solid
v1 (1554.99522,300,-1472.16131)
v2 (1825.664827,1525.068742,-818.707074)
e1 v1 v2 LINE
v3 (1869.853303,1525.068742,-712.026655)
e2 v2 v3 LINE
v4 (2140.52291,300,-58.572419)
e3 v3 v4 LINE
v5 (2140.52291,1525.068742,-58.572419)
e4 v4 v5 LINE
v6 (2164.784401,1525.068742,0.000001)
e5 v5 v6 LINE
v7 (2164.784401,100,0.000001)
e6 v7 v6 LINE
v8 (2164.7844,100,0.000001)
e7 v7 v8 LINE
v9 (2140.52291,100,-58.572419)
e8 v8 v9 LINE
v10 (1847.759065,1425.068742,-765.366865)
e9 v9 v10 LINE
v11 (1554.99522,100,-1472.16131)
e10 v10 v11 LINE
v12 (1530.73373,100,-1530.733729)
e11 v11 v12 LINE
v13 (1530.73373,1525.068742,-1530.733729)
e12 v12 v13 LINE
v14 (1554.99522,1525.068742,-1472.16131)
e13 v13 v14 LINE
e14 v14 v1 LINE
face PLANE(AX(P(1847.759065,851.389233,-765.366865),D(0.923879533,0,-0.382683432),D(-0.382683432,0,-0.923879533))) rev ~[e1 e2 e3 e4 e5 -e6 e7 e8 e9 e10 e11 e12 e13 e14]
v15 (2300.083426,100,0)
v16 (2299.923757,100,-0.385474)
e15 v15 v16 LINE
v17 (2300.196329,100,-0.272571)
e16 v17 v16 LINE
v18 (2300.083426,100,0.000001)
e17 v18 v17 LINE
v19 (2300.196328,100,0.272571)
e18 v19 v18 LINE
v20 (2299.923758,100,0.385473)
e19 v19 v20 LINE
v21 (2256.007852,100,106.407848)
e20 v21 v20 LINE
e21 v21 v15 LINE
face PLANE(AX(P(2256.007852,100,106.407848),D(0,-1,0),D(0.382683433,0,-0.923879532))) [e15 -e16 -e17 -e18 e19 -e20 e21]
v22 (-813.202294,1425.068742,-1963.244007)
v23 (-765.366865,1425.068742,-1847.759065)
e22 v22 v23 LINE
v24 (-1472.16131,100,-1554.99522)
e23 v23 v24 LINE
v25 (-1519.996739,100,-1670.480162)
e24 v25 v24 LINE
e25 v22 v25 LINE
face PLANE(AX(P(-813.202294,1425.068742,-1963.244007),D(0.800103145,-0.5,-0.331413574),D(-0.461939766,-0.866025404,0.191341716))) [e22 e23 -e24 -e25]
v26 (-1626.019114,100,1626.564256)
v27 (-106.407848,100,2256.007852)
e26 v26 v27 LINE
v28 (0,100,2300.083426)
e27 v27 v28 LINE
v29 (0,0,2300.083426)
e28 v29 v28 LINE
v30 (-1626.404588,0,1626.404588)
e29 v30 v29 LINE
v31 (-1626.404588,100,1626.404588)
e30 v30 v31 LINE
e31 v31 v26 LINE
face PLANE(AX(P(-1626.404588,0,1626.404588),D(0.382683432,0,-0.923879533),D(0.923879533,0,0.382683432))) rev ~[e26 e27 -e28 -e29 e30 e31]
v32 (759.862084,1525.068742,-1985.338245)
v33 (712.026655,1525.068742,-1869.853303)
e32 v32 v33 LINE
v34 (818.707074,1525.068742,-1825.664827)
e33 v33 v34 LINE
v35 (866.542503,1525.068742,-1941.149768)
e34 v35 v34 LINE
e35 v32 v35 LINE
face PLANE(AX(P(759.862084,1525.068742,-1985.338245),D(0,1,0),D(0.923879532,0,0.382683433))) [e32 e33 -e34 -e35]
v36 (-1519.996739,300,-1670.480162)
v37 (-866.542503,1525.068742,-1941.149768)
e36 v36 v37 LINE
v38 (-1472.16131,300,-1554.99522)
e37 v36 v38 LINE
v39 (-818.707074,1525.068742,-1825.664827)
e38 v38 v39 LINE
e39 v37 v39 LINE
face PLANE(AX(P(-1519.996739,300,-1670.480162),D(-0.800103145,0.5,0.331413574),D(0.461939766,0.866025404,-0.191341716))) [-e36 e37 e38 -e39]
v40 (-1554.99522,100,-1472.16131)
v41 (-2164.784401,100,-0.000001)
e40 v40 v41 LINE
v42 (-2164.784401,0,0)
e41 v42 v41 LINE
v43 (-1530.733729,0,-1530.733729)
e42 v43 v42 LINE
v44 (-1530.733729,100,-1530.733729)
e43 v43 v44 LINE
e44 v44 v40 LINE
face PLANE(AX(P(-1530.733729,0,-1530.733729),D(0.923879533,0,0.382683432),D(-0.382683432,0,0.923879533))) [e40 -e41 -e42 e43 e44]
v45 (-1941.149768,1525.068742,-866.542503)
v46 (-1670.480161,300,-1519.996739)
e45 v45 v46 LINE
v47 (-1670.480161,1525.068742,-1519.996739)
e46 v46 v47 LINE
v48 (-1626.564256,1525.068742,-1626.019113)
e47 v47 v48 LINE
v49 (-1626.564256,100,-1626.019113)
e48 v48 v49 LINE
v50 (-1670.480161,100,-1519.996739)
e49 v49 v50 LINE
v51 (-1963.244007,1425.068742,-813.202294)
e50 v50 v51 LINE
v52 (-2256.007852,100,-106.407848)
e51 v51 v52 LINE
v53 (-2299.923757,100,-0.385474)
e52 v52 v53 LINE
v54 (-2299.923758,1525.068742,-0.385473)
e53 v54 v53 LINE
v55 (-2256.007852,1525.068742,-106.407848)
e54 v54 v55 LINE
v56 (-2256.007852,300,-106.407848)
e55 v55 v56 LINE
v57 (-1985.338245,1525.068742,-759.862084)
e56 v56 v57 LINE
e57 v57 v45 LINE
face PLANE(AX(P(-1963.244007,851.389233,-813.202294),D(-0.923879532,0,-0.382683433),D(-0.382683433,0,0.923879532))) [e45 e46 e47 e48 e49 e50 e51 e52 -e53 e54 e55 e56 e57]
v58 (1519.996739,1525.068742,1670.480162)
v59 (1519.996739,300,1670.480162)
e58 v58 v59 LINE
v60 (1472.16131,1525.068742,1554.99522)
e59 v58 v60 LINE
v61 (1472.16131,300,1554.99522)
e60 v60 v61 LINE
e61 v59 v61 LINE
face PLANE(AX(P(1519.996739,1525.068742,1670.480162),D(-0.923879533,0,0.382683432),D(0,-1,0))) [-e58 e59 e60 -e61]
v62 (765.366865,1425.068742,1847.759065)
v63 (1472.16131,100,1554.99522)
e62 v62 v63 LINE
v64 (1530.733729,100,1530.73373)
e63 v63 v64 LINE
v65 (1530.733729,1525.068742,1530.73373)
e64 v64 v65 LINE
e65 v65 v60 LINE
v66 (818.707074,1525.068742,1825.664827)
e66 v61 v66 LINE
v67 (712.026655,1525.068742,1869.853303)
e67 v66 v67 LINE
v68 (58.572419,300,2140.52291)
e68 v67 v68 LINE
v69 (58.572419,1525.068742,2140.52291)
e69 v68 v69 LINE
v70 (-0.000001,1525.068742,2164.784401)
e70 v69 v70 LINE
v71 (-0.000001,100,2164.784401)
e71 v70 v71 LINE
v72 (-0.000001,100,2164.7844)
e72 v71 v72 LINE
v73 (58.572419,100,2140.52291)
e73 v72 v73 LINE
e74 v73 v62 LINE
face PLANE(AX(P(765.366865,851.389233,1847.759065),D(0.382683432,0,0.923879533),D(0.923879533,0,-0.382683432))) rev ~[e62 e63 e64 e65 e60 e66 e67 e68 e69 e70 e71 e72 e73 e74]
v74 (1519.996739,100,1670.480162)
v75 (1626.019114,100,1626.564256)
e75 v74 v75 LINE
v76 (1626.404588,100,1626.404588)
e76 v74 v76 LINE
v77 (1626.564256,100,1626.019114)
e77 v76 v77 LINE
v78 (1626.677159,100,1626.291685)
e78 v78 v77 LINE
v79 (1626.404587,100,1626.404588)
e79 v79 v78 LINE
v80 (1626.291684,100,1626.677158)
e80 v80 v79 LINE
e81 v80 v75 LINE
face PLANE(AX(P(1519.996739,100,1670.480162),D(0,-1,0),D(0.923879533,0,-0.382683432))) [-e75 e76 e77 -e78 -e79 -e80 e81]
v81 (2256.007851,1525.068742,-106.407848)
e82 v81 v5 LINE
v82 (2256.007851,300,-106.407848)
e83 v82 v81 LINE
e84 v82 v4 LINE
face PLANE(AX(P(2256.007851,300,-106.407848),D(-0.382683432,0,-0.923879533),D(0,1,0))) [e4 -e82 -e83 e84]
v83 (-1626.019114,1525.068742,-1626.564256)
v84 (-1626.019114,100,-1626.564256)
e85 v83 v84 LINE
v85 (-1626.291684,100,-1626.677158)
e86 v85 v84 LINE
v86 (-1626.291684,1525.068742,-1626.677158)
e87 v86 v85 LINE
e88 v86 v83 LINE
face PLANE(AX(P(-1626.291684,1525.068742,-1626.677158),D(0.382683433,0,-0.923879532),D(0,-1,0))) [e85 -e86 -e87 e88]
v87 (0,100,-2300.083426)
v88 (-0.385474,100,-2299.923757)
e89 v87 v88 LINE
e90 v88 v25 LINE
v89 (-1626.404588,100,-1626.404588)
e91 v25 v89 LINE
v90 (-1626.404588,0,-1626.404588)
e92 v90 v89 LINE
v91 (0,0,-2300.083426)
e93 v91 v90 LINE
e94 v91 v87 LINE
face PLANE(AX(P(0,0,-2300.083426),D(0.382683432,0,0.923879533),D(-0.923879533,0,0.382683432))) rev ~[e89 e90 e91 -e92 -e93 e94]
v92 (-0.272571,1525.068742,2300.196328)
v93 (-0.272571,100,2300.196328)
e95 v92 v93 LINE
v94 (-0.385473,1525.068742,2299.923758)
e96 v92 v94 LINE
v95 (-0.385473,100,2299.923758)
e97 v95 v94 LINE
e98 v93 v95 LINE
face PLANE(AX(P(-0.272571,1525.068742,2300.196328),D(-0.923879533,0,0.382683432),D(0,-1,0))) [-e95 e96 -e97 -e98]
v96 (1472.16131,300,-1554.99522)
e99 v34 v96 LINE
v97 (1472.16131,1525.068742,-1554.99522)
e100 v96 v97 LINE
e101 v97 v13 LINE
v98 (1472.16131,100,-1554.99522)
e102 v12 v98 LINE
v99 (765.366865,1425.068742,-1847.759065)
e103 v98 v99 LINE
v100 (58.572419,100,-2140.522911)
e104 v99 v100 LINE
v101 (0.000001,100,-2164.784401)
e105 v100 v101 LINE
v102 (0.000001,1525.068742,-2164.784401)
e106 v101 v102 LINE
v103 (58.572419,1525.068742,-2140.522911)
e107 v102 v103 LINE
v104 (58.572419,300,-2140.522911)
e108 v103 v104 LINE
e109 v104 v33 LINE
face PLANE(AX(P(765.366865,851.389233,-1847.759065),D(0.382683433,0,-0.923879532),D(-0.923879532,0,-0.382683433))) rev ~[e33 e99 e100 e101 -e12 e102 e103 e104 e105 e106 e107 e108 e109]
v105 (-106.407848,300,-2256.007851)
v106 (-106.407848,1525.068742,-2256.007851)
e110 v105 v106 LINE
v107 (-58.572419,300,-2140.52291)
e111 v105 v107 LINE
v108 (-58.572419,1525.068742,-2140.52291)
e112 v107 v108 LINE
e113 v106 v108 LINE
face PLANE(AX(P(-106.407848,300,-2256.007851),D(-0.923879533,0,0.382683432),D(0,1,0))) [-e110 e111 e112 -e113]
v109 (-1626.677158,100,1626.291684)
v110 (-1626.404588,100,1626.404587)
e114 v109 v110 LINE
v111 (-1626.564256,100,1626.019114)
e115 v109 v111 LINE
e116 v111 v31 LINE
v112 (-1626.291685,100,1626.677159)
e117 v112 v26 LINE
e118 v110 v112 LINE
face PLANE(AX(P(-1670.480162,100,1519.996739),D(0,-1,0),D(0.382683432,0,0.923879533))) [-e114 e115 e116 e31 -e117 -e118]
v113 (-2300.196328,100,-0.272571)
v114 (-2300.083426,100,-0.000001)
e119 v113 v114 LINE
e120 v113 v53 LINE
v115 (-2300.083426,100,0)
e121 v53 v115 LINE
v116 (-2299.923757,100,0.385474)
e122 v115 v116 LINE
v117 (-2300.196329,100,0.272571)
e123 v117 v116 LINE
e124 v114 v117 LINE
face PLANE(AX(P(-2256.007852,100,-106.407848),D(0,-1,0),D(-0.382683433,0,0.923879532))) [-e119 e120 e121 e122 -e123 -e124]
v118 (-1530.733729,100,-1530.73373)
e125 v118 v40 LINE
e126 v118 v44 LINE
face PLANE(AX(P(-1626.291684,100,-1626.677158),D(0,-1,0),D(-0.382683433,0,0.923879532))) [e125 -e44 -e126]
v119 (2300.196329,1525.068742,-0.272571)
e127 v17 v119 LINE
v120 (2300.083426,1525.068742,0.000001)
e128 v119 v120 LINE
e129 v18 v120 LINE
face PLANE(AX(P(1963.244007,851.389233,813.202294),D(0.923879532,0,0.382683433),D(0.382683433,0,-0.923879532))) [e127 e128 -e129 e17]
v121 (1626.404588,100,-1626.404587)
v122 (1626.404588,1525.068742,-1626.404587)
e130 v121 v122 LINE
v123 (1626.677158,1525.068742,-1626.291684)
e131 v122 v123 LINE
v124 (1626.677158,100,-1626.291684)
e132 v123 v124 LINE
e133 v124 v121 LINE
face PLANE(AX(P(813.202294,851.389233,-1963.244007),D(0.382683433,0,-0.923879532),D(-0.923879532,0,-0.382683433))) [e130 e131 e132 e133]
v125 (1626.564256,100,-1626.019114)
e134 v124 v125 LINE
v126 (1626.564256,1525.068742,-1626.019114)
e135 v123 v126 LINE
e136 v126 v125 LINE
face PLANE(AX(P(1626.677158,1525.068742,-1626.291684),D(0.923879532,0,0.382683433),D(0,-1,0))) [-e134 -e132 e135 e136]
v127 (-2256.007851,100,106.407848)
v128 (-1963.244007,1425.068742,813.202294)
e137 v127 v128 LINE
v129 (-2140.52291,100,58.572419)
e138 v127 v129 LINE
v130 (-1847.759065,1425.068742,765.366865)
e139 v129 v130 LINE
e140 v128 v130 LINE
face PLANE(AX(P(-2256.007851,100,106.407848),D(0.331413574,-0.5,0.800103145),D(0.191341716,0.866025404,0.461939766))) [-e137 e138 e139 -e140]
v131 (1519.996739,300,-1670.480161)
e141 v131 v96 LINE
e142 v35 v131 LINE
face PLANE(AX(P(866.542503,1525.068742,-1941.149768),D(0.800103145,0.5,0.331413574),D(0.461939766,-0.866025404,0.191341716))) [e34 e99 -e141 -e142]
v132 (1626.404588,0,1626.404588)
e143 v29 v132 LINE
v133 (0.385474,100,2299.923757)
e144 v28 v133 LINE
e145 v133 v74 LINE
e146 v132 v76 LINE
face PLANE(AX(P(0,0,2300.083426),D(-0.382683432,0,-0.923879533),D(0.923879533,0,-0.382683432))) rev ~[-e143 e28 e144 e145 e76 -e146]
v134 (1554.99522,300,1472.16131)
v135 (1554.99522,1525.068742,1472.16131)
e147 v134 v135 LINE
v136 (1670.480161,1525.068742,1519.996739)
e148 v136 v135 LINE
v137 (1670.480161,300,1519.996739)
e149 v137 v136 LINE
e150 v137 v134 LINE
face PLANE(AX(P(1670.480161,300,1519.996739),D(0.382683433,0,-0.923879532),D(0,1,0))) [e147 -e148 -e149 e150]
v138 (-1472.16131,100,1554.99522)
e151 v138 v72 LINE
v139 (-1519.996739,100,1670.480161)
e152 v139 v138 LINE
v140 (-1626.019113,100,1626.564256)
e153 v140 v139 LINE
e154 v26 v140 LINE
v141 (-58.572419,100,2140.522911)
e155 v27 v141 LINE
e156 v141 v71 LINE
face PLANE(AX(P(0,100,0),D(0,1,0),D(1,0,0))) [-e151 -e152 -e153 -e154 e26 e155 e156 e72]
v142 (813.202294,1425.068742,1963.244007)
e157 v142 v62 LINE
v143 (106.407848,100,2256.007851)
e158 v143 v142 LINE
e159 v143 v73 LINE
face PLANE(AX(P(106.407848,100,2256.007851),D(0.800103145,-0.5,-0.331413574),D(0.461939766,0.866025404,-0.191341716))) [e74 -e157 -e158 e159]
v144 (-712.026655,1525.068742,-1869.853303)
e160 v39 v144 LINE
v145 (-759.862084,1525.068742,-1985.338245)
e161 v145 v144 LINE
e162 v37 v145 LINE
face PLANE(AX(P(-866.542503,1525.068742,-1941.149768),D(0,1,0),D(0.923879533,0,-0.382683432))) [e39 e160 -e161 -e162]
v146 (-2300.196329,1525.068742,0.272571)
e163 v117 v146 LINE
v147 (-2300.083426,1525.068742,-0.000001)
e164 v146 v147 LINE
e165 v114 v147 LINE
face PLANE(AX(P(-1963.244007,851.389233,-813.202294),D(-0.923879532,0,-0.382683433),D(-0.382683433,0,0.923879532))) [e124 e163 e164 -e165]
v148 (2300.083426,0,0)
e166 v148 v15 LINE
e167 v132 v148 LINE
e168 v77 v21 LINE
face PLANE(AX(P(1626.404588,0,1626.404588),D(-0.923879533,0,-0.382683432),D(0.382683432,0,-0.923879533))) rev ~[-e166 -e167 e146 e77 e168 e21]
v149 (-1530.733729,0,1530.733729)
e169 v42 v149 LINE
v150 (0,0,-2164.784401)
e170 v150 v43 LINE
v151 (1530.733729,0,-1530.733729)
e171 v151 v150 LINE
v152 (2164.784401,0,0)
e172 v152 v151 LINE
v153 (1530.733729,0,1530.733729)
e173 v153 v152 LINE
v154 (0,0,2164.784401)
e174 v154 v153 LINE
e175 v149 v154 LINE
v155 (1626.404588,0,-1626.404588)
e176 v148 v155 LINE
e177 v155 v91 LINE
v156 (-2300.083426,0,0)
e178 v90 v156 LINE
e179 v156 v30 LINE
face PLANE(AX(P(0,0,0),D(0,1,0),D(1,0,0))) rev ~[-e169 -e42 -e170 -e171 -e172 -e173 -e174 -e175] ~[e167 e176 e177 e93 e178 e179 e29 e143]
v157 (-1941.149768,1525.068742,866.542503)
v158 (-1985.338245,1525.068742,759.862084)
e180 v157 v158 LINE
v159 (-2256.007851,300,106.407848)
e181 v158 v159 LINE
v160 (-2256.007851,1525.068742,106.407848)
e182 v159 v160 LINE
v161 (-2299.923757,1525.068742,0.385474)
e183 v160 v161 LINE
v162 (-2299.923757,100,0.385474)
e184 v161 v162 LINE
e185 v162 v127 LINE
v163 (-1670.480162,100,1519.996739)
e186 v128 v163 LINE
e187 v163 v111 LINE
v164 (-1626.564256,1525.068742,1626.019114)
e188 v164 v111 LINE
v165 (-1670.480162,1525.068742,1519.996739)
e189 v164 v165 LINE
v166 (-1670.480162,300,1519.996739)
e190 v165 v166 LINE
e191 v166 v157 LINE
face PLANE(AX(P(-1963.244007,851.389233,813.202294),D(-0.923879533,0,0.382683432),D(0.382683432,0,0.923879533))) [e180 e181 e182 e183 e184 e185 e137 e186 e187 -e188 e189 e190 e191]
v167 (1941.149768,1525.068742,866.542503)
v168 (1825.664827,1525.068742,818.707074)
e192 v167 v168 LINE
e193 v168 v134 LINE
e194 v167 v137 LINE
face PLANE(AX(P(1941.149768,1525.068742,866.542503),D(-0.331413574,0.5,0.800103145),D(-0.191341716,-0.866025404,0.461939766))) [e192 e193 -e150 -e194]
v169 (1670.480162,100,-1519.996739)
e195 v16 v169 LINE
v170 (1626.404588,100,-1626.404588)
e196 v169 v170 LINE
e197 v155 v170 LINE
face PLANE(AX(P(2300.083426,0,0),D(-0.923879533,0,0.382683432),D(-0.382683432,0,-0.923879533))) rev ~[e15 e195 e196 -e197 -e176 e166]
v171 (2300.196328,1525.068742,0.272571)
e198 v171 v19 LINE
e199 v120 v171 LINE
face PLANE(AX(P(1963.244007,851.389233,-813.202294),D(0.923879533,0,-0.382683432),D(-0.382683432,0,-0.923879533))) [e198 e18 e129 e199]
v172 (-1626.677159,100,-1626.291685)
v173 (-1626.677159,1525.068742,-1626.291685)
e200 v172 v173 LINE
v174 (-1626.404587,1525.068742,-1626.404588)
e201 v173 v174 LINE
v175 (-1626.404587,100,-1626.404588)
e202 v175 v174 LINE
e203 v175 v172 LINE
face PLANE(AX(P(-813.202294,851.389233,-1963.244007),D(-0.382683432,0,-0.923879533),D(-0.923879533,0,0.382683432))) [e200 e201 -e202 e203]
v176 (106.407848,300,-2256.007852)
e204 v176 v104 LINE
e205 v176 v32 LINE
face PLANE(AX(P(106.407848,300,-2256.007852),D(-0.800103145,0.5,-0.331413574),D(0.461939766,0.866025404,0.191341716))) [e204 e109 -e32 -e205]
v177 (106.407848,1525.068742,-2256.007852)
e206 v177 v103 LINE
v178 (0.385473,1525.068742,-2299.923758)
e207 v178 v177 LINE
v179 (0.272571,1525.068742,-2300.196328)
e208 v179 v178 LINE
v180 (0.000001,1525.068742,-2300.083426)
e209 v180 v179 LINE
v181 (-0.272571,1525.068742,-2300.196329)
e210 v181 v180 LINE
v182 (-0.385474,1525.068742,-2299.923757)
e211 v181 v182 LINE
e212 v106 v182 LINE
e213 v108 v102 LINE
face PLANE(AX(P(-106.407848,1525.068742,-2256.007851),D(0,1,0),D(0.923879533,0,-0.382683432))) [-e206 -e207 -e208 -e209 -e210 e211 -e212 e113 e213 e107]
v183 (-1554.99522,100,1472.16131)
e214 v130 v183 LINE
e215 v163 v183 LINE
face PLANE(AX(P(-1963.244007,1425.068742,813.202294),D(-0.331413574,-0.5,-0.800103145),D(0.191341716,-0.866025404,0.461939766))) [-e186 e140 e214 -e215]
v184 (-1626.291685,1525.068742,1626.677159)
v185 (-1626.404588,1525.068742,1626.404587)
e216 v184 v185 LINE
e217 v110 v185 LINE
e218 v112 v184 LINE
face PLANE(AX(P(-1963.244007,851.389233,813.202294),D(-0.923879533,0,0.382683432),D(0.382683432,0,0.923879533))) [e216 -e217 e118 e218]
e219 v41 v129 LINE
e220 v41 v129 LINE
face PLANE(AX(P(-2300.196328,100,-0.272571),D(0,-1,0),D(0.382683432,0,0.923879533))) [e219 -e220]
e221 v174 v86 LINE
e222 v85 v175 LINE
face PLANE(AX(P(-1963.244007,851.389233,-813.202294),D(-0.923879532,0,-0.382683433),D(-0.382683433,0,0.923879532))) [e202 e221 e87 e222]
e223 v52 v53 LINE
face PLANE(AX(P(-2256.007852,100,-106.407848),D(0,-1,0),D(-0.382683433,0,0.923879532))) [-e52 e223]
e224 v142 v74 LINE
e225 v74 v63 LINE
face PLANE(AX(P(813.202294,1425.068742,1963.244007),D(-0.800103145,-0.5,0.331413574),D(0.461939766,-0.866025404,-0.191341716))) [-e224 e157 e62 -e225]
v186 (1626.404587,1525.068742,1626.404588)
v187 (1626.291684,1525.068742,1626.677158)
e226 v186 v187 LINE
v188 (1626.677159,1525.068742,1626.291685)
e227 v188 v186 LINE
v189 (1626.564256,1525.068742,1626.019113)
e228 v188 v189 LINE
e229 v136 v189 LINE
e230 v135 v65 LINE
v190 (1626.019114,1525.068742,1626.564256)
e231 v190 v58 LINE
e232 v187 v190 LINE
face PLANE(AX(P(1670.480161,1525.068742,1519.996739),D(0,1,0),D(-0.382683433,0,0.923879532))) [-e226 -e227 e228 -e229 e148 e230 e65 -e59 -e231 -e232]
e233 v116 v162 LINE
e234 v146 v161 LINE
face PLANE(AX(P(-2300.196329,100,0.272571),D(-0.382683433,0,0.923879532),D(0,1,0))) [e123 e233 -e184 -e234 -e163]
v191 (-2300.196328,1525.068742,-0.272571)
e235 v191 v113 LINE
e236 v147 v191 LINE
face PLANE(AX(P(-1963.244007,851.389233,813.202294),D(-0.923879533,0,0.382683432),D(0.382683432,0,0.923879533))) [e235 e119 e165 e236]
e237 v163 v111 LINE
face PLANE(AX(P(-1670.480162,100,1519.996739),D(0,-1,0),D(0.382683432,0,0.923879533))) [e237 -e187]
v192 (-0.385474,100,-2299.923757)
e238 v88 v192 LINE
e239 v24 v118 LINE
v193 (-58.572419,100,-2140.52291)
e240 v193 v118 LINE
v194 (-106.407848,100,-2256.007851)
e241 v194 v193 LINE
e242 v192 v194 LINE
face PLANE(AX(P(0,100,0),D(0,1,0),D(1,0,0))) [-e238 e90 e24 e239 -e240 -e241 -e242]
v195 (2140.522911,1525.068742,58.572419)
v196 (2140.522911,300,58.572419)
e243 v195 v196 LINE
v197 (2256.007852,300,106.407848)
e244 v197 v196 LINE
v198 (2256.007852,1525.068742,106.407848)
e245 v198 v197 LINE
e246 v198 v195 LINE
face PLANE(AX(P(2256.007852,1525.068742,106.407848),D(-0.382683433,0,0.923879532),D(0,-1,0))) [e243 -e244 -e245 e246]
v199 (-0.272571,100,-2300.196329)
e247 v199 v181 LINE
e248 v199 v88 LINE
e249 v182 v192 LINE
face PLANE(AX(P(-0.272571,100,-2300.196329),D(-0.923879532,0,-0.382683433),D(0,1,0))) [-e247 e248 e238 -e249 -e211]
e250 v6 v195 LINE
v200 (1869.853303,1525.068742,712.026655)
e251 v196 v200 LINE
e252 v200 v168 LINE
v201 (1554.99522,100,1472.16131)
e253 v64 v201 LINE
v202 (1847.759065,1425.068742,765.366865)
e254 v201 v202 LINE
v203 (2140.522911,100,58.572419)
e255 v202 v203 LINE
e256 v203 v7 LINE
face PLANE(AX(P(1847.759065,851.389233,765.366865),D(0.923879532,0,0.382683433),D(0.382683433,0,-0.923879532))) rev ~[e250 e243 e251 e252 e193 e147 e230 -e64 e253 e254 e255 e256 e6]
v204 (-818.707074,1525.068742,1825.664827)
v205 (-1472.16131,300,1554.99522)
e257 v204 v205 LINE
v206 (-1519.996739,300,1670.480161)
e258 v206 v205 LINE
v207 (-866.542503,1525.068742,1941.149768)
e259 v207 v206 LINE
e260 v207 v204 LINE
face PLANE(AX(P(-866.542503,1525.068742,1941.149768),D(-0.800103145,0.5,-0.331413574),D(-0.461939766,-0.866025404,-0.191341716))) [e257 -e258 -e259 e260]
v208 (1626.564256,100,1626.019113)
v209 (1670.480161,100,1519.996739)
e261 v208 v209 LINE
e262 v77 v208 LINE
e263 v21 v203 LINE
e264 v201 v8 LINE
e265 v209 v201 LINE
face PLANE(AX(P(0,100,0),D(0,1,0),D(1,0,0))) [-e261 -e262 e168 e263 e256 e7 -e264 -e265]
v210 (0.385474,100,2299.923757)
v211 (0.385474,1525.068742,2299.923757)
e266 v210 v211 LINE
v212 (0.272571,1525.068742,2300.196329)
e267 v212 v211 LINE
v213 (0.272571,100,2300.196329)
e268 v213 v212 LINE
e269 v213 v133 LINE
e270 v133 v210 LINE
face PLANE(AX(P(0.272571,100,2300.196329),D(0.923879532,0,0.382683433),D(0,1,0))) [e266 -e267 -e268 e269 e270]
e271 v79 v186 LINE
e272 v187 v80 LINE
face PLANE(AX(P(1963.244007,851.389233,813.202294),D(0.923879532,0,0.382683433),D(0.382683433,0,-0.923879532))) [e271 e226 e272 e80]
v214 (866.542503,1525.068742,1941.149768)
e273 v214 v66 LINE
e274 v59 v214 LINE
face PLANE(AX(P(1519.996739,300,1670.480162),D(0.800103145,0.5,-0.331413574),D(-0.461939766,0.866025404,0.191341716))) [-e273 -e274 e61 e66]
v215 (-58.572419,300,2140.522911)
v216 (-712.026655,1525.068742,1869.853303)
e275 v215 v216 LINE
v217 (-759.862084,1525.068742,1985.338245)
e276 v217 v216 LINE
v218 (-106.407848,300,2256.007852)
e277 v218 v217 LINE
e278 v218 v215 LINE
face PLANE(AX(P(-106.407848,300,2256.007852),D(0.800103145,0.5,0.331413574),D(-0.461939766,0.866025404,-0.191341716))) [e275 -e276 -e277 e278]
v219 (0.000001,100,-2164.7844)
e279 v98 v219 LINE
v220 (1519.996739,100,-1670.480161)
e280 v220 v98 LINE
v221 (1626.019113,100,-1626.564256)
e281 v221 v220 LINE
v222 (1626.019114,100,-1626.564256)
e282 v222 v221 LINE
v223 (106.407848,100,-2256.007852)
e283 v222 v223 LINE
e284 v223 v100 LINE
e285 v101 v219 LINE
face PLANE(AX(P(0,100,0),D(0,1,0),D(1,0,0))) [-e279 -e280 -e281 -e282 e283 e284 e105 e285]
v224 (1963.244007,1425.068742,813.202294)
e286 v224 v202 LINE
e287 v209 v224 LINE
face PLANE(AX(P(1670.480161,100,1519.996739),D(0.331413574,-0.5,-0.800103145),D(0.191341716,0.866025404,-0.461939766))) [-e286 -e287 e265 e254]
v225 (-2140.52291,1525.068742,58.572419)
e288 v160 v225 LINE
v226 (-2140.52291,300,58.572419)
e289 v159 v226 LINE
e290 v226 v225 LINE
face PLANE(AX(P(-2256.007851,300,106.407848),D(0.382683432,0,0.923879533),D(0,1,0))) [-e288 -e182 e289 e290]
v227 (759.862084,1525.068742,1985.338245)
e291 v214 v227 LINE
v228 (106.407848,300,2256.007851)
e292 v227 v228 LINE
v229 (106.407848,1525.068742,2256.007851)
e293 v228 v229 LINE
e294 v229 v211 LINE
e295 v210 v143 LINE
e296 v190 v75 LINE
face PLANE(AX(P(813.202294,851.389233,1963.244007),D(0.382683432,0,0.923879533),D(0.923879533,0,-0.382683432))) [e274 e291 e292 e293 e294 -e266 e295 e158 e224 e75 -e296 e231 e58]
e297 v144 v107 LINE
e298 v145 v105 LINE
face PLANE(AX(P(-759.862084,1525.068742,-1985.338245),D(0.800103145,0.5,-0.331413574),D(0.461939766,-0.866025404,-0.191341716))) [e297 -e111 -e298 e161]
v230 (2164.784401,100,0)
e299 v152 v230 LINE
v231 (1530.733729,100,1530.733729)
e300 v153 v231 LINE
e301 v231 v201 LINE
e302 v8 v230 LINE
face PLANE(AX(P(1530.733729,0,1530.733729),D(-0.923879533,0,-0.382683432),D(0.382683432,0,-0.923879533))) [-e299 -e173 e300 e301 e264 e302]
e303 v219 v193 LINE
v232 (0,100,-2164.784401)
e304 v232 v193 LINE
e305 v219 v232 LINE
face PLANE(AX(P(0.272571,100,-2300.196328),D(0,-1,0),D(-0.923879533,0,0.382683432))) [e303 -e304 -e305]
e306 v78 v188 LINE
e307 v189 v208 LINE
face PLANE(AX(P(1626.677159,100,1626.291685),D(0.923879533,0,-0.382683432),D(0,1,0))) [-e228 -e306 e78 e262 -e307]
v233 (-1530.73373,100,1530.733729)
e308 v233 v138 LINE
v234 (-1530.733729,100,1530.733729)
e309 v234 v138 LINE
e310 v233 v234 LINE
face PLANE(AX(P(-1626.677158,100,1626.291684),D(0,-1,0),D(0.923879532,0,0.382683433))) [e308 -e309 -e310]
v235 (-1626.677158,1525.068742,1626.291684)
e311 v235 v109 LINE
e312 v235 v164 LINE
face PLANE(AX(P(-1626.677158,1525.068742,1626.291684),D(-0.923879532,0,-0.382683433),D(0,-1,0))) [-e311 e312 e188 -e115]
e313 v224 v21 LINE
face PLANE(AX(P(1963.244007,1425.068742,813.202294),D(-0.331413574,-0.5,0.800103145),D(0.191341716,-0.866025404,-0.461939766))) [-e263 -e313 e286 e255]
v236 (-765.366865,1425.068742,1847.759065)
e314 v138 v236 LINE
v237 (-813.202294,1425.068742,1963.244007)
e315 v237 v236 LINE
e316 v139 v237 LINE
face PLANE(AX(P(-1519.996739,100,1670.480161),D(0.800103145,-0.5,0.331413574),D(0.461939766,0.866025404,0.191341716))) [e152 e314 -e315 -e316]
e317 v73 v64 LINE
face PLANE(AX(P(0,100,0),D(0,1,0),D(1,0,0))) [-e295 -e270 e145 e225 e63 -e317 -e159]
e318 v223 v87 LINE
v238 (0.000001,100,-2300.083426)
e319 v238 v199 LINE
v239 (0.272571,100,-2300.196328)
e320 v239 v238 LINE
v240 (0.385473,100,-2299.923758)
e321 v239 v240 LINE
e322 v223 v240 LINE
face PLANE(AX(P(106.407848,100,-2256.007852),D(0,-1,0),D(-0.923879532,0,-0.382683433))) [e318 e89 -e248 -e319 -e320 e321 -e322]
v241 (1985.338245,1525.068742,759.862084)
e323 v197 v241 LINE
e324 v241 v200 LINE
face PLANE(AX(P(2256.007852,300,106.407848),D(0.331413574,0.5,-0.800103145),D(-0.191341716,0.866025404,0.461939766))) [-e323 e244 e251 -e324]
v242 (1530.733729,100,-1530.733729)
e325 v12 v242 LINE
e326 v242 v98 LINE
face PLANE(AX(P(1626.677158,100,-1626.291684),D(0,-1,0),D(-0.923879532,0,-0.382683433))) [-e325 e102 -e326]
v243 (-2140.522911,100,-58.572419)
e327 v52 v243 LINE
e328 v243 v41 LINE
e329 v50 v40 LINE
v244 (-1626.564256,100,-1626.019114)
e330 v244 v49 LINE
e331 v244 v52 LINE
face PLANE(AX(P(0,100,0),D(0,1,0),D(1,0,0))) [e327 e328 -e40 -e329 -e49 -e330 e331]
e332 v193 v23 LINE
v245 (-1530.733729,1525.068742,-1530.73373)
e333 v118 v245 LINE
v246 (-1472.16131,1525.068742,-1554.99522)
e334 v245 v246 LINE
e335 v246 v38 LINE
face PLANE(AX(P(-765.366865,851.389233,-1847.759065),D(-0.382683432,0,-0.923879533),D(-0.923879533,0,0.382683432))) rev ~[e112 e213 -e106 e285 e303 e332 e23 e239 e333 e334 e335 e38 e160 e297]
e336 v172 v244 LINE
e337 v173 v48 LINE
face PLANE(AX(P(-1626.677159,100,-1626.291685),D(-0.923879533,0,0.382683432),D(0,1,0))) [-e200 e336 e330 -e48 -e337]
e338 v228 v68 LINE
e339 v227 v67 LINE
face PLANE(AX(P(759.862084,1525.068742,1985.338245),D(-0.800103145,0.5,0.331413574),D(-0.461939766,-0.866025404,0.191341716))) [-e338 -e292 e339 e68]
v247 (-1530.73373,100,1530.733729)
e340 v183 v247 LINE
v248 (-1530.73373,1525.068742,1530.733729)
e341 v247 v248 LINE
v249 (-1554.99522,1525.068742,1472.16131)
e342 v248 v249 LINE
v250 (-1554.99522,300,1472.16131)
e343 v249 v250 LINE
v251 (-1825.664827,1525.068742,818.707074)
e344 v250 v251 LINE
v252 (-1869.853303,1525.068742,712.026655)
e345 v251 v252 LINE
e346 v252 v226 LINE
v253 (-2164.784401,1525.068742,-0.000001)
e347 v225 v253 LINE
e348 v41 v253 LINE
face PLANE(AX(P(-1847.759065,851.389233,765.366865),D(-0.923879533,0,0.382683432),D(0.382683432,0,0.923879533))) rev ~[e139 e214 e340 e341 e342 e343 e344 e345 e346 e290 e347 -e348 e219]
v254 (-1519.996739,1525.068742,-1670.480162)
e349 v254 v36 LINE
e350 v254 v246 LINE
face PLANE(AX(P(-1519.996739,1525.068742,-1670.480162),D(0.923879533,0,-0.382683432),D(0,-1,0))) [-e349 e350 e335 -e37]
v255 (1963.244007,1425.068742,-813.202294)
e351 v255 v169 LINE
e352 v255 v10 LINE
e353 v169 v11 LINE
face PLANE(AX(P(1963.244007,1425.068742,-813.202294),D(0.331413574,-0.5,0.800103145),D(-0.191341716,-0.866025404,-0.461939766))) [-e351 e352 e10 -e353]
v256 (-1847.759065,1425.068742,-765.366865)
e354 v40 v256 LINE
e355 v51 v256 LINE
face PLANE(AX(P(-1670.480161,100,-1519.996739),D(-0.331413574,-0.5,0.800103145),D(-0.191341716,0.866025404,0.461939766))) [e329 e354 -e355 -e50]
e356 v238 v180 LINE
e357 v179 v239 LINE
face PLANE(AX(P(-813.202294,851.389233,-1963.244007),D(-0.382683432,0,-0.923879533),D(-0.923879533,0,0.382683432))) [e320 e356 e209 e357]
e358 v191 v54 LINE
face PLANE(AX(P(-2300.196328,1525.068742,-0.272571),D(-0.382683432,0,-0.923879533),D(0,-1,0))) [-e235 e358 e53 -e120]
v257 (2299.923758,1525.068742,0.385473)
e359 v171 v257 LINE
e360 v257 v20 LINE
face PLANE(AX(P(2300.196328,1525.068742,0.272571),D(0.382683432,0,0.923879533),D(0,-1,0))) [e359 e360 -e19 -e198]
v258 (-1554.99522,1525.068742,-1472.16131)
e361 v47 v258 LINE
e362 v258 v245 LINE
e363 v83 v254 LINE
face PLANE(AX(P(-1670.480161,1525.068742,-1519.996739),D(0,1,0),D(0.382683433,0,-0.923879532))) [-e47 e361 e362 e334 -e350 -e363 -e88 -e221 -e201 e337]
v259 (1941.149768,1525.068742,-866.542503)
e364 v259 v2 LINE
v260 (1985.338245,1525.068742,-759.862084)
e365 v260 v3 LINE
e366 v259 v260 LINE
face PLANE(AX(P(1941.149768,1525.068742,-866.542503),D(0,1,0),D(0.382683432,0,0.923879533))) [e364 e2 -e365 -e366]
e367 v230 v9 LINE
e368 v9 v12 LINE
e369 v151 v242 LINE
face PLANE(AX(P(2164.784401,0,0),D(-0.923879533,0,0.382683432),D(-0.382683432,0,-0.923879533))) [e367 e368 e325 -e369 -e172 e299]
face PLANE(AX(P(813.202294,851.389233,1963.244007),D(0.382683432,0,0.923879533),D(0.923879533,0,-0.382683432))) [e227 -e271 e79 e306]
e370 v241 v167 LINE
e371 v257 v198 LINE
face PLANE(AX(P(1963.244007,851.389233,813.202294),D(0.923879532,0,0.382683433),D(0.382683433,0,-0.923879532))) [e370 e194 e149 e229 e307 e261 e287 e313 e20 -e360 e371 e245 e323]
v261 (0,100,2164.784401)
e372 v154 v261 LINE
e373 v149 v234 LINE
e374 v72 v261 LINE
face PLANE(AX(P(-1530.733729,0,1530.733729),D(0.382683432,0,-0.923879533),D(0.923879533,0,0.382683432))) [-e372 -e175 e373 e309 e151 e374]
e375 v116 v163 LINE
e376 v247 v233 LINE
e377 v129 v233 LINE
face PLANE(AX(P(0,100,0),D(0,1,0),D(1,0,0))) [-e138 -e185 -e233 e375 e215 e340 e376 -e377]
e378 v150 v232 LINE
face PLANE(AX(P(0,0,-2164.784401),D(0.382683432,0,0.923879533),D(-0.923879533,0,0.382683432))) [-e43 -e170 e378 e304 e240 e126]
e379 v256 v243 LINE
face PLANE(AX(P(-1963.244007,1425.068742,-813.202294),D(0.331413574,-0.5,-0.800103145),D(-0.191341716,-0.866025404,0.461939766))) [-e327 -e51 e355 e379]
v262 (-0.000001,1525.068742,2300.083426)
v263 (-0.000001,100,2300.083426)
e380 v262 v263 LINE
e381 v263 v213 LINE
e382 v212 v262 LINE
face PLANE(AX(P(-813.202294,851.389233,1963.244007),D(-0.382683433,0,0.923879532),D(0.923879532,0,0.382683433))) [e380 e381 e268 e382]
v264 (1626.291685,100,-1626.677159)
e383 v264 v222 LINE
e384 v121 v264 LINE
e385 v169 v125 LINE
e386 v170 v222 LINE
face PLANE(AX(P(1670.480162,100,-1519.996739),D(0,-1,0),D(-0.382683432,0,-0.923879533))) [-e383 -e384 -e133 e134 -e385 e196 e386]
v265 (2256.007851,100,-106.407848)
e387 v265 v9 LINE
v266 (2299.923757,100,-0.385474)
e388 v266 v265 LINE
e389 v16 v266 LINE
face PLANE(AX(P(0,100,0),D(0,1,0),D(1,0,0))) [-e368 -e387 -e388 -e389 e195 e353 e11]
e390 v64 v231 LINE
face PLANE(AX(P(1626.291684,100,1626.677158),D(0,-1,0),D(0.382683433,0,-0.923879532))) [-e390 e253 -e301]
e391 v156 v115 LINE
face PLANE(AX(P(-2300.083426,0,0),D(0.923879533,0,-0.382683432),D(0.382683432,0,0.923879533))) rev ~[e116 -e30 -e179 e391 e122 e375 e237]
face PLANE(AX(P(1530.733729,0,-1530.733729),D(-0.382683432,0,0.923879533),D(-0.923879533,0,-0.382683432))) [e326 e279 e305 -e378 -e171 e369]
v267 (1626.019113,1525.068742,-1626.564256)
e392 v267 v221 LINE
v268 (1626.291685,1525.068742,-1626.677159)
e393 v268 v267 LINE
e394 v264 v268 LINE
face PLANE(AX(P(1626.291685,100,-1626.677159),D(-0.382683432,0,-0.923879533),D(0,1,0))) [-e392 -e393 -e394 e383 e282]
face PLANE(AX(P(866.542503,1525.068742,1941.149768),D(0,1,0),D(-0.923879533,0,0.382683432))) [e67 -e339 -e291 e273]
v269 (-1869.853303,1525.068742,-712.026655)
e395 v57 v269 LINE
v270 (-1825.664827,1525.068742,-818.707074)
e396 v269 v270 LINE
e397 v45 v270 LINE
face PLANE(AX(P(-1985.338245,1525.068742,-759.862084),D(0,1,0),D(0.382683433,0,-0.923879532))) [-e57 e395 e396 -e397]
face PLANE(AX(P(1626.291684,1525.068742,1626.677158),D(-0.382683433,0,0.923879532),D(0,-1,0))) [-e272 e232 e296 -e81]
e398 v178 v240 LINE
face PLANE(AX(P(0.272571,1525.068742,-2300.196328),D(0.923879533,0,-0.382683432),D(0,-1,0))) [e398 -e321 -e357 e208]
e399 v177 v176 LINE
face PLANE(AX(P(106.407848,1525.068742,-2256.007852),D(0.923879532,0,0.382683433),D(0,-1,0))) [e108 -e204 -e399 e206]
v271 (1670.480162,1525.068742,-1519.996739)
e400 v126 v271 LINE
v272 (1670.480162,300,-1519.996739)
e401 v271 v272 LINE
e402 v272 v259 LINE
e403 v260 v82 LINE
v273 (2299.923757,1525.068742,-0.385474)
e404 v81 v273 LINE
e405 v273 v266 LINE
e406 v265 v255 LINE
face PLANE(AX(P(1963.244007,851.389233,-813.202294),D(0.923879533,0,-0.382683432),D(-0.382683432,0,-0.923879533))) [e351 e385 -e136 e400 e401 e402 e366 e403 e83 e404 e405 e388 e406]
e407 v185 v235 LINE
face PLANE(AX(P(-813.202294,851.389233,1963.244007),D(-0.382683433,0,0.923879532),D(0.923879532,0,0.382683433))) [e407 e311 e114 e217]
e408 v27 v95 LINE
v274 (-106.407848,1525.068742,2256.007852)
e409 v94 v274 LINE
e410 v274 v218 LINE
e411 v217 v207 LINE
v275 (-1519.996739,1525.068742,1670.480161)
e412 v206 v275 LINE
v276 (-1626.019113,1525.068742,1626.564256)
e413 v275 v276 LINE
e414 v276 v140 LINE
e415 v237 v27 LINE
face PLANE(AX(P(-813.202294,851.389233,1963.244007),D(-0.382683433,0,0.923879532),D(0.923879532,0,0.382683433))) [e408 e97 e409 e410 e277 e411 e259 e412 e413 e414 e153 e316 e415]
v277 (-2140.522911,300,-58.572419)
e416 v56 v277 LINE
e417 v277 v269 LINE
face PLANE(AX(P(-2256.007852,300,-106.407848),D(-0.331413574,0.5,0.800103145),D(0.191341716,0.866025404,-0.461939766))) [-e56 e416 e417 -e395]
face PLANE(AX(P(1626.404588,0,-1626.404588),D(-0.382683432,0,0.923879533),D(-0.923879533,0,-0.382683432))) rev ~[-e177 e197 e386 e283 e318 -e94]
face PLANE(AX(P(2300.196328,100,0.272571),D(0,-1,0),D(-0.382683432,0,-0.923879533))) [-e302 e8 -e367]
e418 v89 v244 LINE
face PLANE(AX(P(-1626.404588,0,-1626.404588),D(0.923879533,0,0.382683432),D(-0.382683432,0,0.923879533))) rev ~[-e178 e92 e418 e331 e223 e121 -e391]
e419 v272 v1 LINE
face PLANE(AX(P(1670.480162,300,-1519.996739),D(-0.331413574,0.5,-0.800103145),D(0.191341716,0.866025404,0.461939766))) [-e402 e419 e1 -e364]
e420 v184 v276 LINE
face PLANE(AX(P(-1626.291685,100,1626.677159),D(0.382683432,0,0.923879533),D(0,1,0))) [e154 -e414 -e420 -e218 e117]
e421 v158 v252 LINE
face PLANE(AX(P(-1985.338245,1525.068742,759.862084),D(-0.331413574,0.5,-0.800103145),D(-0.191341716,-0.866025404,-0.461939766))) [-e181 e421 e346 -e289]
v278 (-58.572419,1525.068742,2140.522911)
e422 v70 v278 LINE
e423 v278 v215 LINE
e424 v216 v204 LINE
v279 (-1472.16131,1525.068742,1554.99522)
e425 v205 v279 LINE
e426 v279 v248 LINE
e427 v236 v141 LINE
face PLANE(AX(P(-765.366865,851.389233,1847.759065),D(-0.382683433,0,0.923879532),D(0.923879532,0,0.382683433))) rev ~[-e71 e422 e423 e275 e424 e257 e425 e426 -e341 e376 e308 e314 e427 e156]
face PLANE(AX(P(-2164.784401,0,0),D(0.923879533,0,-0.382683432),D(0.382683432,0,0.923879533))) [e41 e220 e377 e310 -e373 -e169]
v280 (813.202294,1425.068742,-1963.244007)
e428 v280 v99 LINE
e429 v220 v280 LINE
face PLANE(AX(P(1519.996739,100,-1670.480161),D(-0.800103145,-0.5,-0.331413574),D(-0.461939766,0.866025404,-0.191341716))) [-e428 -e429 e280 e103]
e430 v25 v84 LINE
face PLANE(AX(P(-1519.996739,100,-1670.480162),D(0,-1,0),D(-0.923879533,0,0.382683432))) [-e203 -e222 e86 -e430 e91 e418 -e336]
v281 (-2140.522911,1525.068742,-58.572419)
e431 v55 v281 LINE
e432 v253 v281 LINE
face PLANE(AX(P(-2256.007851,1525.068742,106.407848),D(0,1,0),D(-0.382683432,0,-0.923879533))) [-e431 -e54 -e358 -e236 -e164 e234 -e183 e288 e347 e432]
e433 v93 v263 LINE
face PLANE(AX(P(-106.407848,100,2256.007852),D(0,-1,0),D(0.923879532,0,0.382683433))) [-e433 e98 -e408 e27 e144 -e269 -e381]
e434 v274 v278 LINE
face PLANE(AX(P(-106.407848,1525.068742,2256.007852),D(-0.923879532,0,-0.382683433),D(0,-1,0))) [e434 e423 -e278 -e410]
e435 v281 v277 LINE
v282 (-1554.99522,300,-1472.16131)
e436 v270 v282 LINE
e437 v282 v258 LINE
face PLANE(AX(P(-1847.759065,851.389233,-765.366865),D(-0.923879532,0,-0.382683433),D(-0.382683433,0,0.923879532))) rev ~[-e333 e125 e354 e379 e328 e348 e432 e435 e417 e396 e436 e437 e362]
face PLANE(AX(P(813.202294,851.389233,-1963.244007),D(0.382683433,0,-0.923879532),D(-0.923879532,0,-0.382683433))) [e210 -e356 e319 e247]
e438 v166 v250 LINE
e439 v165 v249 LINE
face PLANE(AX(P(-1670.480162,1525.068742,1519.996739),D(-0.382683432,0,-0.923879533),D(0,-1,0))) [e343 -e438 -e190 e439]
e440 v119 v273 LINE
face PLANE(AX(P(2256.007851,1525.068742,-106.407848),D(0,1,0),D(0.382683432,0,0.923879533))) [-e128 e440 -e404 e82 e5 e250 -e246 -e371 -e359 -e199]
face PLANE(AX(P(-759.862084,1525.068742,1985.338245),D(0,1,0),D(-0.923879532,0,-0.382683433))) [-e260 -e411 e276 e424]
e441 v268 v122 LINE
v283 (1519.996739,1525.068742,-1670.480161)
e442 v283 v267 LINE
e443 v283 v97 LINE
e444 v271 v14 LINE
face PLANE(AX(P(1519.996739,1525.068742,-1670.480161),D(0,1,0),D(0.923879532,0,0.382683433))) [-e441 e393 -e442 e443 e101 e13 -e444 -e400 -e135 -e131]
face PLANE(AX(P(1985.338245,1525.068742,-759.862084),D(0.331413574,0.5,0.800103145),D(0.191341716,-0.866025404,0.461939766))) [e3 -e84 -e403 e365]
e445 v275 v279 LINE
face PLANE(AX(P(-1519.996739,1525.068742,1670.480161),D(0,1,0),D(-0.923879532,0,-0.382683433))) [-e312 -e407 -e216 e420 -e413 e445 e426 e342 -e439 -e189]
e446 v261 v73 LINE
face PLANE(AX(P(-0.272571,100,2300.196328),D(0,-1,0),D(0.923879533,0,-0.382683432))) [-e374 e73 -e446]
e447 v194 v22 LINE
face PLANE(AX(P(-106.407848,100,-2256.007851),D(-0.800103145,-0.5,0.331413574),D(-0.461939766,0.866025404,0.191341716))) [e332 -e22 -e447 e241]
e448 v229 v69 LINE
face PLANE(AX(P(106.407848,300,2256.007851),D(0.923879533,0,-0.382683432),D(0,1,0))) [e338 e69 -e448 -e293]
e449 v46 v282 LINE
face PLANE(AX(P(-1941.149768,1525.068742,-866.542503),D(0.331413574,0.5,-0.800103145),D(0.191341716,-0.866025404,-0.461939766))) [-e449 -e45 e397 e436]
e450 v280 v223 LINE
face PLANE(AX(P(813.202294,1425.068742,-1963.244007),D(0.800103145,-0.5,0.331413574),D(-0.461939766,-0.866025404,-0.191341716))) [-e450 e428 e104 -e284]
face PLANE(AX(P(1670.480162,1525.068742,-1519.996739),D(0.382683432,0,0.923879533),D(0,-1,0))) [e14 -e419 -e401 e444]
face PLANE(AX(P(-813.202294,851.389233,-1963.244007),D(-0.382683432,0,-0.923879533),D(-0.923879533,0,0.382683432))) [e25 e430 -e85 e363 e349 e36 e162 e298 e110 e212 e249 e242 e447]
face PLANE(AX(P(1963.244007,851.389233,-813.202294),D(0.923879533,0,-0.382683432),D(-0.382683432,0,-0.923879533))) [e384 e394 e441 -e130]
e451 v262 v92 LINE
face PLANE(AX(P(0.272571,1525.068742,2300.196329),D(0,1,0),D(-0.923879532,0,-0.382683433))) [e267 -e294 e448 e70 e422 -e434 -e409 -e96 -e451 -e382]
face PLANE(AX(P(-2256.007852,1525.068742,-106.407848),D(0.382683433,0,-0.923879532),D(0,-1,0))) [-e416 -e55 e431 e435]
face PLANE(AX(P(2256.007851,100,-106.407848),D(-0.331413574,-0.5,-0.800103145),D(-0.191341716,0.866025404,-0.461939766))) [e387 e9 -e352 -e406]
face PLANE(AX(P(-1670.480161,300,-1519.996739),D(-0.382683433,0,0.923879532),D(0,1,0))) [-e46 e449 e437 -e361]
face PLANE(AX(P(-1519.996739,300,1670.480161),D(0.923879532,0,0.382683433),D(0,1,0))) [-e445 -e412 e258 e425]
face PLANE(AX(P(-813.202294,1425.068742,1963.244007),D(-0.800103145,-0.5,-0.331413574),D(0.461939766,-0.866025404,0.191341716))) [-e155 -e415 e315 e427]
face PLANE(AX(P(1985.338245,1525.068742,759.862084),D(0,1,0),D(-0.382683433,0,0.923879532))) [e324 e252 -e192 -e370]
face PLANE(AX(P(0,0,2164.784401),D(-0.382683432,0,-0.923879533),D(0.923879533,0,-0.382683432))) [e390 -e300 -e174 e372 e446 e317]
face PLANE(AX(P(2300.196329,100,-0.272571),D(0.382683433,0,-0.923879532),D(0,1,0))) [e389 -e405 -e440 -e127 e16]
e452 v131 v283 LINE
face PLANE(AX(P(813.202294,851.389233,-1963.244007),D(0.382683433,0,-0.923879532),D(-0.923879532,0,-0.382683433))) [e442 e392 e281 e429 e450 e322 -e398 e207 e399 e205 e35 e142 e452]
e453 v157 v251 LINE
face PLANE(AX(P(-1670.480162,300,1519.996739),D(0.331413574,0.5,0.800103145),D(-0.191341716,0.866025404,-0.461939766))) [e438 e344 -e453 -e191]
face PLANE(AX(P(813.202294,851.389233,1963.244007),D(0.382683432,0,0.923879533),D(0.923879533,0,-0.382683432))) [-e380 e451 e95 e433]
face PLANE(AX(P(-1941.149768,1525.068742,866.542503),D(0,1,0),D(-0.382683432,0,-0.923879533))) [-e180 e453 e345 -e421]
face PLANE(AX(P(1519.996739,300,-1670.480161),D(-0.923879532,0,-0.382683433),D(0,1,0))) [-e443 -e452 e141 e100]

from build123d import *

# Parameters (mm, degrees)
BOSS_EXTRUDE1_DEPTH = 100
BOSS_EXTRUDE2_DEPTH = 125
CIRPATTERN1_COUNT   = 8


with BuildPart() as part:
    # Sketch1 → Boss-Extrude1 (new body)
    with BuildSketch(Plane(origin=(0, 0, 0), x_dir=(1, 0, 0), z_dir=(0, 1, 0))):
        Polygon((2300.083425621, 0), (1626.404587552, 1626.404587552), (0, 2300.083425621), (-1626.404587552, 1626.404587552), (-2300.083425621, 0), (-1626.404587552, -1626.404587552), (0, -2300.083425621), (1626.404587552, -1626.404587552), align=None)
        Polygon((2164.784400585, 0), (1530.73372946, 1530.73372946), (0, 2164.784400585), (-1530.73372946, 1530.73372946), (-2164.784400585, 0), (-1530.73372946, -1530.73372946), (0, -2164.784400585), (1530.73372946, -1530.73372946), align=None, mode=Mode.SUBTRACT)
    extrude(amount=BOSS_EXTRUDE1_DEPTH)

    # Sketch2 → Boss-Extrude2 (add)
    with BuildSketch(Plane(origin=(813.202293776, 0, 1963.244006586), x_dir=(0.923879533, 0, -0.382683432), z_dir=(0.382683432, 0, 0.923879533))):
        Polygon((-57.735026919, 1525.068742177), (-765.028794991, 300), (-765.028794991, 1525.068742177), (-880.498848829, 1525.068742177), (-880.498848829, 100), (-765.028794991, 100), (0, 1425.068742177), (765.028794991, 100), (880.498848829, 100), (880.498848829, 1525.068742177), (765.028794991, 1525.068742177), (765.028794991, 300), (57.735026919, 1525.068742177), align=None)
    boss_extrude2 = extrude(amount=-BOSS_EXTRUDE2_DEPTH)

    # CirPattern1: Boss-Extrude2 ×8 about axis
    cirpattern1_axis = Axis((0, 0, 0), (0, 1, 0))
    for i in range(1, CIRPATTERN1_COUNT):
        add(boss_extrude2.rotate(cirpattern1_axis, i * 360 / CIRPATTERN1_COUNT))


solid = part.part
